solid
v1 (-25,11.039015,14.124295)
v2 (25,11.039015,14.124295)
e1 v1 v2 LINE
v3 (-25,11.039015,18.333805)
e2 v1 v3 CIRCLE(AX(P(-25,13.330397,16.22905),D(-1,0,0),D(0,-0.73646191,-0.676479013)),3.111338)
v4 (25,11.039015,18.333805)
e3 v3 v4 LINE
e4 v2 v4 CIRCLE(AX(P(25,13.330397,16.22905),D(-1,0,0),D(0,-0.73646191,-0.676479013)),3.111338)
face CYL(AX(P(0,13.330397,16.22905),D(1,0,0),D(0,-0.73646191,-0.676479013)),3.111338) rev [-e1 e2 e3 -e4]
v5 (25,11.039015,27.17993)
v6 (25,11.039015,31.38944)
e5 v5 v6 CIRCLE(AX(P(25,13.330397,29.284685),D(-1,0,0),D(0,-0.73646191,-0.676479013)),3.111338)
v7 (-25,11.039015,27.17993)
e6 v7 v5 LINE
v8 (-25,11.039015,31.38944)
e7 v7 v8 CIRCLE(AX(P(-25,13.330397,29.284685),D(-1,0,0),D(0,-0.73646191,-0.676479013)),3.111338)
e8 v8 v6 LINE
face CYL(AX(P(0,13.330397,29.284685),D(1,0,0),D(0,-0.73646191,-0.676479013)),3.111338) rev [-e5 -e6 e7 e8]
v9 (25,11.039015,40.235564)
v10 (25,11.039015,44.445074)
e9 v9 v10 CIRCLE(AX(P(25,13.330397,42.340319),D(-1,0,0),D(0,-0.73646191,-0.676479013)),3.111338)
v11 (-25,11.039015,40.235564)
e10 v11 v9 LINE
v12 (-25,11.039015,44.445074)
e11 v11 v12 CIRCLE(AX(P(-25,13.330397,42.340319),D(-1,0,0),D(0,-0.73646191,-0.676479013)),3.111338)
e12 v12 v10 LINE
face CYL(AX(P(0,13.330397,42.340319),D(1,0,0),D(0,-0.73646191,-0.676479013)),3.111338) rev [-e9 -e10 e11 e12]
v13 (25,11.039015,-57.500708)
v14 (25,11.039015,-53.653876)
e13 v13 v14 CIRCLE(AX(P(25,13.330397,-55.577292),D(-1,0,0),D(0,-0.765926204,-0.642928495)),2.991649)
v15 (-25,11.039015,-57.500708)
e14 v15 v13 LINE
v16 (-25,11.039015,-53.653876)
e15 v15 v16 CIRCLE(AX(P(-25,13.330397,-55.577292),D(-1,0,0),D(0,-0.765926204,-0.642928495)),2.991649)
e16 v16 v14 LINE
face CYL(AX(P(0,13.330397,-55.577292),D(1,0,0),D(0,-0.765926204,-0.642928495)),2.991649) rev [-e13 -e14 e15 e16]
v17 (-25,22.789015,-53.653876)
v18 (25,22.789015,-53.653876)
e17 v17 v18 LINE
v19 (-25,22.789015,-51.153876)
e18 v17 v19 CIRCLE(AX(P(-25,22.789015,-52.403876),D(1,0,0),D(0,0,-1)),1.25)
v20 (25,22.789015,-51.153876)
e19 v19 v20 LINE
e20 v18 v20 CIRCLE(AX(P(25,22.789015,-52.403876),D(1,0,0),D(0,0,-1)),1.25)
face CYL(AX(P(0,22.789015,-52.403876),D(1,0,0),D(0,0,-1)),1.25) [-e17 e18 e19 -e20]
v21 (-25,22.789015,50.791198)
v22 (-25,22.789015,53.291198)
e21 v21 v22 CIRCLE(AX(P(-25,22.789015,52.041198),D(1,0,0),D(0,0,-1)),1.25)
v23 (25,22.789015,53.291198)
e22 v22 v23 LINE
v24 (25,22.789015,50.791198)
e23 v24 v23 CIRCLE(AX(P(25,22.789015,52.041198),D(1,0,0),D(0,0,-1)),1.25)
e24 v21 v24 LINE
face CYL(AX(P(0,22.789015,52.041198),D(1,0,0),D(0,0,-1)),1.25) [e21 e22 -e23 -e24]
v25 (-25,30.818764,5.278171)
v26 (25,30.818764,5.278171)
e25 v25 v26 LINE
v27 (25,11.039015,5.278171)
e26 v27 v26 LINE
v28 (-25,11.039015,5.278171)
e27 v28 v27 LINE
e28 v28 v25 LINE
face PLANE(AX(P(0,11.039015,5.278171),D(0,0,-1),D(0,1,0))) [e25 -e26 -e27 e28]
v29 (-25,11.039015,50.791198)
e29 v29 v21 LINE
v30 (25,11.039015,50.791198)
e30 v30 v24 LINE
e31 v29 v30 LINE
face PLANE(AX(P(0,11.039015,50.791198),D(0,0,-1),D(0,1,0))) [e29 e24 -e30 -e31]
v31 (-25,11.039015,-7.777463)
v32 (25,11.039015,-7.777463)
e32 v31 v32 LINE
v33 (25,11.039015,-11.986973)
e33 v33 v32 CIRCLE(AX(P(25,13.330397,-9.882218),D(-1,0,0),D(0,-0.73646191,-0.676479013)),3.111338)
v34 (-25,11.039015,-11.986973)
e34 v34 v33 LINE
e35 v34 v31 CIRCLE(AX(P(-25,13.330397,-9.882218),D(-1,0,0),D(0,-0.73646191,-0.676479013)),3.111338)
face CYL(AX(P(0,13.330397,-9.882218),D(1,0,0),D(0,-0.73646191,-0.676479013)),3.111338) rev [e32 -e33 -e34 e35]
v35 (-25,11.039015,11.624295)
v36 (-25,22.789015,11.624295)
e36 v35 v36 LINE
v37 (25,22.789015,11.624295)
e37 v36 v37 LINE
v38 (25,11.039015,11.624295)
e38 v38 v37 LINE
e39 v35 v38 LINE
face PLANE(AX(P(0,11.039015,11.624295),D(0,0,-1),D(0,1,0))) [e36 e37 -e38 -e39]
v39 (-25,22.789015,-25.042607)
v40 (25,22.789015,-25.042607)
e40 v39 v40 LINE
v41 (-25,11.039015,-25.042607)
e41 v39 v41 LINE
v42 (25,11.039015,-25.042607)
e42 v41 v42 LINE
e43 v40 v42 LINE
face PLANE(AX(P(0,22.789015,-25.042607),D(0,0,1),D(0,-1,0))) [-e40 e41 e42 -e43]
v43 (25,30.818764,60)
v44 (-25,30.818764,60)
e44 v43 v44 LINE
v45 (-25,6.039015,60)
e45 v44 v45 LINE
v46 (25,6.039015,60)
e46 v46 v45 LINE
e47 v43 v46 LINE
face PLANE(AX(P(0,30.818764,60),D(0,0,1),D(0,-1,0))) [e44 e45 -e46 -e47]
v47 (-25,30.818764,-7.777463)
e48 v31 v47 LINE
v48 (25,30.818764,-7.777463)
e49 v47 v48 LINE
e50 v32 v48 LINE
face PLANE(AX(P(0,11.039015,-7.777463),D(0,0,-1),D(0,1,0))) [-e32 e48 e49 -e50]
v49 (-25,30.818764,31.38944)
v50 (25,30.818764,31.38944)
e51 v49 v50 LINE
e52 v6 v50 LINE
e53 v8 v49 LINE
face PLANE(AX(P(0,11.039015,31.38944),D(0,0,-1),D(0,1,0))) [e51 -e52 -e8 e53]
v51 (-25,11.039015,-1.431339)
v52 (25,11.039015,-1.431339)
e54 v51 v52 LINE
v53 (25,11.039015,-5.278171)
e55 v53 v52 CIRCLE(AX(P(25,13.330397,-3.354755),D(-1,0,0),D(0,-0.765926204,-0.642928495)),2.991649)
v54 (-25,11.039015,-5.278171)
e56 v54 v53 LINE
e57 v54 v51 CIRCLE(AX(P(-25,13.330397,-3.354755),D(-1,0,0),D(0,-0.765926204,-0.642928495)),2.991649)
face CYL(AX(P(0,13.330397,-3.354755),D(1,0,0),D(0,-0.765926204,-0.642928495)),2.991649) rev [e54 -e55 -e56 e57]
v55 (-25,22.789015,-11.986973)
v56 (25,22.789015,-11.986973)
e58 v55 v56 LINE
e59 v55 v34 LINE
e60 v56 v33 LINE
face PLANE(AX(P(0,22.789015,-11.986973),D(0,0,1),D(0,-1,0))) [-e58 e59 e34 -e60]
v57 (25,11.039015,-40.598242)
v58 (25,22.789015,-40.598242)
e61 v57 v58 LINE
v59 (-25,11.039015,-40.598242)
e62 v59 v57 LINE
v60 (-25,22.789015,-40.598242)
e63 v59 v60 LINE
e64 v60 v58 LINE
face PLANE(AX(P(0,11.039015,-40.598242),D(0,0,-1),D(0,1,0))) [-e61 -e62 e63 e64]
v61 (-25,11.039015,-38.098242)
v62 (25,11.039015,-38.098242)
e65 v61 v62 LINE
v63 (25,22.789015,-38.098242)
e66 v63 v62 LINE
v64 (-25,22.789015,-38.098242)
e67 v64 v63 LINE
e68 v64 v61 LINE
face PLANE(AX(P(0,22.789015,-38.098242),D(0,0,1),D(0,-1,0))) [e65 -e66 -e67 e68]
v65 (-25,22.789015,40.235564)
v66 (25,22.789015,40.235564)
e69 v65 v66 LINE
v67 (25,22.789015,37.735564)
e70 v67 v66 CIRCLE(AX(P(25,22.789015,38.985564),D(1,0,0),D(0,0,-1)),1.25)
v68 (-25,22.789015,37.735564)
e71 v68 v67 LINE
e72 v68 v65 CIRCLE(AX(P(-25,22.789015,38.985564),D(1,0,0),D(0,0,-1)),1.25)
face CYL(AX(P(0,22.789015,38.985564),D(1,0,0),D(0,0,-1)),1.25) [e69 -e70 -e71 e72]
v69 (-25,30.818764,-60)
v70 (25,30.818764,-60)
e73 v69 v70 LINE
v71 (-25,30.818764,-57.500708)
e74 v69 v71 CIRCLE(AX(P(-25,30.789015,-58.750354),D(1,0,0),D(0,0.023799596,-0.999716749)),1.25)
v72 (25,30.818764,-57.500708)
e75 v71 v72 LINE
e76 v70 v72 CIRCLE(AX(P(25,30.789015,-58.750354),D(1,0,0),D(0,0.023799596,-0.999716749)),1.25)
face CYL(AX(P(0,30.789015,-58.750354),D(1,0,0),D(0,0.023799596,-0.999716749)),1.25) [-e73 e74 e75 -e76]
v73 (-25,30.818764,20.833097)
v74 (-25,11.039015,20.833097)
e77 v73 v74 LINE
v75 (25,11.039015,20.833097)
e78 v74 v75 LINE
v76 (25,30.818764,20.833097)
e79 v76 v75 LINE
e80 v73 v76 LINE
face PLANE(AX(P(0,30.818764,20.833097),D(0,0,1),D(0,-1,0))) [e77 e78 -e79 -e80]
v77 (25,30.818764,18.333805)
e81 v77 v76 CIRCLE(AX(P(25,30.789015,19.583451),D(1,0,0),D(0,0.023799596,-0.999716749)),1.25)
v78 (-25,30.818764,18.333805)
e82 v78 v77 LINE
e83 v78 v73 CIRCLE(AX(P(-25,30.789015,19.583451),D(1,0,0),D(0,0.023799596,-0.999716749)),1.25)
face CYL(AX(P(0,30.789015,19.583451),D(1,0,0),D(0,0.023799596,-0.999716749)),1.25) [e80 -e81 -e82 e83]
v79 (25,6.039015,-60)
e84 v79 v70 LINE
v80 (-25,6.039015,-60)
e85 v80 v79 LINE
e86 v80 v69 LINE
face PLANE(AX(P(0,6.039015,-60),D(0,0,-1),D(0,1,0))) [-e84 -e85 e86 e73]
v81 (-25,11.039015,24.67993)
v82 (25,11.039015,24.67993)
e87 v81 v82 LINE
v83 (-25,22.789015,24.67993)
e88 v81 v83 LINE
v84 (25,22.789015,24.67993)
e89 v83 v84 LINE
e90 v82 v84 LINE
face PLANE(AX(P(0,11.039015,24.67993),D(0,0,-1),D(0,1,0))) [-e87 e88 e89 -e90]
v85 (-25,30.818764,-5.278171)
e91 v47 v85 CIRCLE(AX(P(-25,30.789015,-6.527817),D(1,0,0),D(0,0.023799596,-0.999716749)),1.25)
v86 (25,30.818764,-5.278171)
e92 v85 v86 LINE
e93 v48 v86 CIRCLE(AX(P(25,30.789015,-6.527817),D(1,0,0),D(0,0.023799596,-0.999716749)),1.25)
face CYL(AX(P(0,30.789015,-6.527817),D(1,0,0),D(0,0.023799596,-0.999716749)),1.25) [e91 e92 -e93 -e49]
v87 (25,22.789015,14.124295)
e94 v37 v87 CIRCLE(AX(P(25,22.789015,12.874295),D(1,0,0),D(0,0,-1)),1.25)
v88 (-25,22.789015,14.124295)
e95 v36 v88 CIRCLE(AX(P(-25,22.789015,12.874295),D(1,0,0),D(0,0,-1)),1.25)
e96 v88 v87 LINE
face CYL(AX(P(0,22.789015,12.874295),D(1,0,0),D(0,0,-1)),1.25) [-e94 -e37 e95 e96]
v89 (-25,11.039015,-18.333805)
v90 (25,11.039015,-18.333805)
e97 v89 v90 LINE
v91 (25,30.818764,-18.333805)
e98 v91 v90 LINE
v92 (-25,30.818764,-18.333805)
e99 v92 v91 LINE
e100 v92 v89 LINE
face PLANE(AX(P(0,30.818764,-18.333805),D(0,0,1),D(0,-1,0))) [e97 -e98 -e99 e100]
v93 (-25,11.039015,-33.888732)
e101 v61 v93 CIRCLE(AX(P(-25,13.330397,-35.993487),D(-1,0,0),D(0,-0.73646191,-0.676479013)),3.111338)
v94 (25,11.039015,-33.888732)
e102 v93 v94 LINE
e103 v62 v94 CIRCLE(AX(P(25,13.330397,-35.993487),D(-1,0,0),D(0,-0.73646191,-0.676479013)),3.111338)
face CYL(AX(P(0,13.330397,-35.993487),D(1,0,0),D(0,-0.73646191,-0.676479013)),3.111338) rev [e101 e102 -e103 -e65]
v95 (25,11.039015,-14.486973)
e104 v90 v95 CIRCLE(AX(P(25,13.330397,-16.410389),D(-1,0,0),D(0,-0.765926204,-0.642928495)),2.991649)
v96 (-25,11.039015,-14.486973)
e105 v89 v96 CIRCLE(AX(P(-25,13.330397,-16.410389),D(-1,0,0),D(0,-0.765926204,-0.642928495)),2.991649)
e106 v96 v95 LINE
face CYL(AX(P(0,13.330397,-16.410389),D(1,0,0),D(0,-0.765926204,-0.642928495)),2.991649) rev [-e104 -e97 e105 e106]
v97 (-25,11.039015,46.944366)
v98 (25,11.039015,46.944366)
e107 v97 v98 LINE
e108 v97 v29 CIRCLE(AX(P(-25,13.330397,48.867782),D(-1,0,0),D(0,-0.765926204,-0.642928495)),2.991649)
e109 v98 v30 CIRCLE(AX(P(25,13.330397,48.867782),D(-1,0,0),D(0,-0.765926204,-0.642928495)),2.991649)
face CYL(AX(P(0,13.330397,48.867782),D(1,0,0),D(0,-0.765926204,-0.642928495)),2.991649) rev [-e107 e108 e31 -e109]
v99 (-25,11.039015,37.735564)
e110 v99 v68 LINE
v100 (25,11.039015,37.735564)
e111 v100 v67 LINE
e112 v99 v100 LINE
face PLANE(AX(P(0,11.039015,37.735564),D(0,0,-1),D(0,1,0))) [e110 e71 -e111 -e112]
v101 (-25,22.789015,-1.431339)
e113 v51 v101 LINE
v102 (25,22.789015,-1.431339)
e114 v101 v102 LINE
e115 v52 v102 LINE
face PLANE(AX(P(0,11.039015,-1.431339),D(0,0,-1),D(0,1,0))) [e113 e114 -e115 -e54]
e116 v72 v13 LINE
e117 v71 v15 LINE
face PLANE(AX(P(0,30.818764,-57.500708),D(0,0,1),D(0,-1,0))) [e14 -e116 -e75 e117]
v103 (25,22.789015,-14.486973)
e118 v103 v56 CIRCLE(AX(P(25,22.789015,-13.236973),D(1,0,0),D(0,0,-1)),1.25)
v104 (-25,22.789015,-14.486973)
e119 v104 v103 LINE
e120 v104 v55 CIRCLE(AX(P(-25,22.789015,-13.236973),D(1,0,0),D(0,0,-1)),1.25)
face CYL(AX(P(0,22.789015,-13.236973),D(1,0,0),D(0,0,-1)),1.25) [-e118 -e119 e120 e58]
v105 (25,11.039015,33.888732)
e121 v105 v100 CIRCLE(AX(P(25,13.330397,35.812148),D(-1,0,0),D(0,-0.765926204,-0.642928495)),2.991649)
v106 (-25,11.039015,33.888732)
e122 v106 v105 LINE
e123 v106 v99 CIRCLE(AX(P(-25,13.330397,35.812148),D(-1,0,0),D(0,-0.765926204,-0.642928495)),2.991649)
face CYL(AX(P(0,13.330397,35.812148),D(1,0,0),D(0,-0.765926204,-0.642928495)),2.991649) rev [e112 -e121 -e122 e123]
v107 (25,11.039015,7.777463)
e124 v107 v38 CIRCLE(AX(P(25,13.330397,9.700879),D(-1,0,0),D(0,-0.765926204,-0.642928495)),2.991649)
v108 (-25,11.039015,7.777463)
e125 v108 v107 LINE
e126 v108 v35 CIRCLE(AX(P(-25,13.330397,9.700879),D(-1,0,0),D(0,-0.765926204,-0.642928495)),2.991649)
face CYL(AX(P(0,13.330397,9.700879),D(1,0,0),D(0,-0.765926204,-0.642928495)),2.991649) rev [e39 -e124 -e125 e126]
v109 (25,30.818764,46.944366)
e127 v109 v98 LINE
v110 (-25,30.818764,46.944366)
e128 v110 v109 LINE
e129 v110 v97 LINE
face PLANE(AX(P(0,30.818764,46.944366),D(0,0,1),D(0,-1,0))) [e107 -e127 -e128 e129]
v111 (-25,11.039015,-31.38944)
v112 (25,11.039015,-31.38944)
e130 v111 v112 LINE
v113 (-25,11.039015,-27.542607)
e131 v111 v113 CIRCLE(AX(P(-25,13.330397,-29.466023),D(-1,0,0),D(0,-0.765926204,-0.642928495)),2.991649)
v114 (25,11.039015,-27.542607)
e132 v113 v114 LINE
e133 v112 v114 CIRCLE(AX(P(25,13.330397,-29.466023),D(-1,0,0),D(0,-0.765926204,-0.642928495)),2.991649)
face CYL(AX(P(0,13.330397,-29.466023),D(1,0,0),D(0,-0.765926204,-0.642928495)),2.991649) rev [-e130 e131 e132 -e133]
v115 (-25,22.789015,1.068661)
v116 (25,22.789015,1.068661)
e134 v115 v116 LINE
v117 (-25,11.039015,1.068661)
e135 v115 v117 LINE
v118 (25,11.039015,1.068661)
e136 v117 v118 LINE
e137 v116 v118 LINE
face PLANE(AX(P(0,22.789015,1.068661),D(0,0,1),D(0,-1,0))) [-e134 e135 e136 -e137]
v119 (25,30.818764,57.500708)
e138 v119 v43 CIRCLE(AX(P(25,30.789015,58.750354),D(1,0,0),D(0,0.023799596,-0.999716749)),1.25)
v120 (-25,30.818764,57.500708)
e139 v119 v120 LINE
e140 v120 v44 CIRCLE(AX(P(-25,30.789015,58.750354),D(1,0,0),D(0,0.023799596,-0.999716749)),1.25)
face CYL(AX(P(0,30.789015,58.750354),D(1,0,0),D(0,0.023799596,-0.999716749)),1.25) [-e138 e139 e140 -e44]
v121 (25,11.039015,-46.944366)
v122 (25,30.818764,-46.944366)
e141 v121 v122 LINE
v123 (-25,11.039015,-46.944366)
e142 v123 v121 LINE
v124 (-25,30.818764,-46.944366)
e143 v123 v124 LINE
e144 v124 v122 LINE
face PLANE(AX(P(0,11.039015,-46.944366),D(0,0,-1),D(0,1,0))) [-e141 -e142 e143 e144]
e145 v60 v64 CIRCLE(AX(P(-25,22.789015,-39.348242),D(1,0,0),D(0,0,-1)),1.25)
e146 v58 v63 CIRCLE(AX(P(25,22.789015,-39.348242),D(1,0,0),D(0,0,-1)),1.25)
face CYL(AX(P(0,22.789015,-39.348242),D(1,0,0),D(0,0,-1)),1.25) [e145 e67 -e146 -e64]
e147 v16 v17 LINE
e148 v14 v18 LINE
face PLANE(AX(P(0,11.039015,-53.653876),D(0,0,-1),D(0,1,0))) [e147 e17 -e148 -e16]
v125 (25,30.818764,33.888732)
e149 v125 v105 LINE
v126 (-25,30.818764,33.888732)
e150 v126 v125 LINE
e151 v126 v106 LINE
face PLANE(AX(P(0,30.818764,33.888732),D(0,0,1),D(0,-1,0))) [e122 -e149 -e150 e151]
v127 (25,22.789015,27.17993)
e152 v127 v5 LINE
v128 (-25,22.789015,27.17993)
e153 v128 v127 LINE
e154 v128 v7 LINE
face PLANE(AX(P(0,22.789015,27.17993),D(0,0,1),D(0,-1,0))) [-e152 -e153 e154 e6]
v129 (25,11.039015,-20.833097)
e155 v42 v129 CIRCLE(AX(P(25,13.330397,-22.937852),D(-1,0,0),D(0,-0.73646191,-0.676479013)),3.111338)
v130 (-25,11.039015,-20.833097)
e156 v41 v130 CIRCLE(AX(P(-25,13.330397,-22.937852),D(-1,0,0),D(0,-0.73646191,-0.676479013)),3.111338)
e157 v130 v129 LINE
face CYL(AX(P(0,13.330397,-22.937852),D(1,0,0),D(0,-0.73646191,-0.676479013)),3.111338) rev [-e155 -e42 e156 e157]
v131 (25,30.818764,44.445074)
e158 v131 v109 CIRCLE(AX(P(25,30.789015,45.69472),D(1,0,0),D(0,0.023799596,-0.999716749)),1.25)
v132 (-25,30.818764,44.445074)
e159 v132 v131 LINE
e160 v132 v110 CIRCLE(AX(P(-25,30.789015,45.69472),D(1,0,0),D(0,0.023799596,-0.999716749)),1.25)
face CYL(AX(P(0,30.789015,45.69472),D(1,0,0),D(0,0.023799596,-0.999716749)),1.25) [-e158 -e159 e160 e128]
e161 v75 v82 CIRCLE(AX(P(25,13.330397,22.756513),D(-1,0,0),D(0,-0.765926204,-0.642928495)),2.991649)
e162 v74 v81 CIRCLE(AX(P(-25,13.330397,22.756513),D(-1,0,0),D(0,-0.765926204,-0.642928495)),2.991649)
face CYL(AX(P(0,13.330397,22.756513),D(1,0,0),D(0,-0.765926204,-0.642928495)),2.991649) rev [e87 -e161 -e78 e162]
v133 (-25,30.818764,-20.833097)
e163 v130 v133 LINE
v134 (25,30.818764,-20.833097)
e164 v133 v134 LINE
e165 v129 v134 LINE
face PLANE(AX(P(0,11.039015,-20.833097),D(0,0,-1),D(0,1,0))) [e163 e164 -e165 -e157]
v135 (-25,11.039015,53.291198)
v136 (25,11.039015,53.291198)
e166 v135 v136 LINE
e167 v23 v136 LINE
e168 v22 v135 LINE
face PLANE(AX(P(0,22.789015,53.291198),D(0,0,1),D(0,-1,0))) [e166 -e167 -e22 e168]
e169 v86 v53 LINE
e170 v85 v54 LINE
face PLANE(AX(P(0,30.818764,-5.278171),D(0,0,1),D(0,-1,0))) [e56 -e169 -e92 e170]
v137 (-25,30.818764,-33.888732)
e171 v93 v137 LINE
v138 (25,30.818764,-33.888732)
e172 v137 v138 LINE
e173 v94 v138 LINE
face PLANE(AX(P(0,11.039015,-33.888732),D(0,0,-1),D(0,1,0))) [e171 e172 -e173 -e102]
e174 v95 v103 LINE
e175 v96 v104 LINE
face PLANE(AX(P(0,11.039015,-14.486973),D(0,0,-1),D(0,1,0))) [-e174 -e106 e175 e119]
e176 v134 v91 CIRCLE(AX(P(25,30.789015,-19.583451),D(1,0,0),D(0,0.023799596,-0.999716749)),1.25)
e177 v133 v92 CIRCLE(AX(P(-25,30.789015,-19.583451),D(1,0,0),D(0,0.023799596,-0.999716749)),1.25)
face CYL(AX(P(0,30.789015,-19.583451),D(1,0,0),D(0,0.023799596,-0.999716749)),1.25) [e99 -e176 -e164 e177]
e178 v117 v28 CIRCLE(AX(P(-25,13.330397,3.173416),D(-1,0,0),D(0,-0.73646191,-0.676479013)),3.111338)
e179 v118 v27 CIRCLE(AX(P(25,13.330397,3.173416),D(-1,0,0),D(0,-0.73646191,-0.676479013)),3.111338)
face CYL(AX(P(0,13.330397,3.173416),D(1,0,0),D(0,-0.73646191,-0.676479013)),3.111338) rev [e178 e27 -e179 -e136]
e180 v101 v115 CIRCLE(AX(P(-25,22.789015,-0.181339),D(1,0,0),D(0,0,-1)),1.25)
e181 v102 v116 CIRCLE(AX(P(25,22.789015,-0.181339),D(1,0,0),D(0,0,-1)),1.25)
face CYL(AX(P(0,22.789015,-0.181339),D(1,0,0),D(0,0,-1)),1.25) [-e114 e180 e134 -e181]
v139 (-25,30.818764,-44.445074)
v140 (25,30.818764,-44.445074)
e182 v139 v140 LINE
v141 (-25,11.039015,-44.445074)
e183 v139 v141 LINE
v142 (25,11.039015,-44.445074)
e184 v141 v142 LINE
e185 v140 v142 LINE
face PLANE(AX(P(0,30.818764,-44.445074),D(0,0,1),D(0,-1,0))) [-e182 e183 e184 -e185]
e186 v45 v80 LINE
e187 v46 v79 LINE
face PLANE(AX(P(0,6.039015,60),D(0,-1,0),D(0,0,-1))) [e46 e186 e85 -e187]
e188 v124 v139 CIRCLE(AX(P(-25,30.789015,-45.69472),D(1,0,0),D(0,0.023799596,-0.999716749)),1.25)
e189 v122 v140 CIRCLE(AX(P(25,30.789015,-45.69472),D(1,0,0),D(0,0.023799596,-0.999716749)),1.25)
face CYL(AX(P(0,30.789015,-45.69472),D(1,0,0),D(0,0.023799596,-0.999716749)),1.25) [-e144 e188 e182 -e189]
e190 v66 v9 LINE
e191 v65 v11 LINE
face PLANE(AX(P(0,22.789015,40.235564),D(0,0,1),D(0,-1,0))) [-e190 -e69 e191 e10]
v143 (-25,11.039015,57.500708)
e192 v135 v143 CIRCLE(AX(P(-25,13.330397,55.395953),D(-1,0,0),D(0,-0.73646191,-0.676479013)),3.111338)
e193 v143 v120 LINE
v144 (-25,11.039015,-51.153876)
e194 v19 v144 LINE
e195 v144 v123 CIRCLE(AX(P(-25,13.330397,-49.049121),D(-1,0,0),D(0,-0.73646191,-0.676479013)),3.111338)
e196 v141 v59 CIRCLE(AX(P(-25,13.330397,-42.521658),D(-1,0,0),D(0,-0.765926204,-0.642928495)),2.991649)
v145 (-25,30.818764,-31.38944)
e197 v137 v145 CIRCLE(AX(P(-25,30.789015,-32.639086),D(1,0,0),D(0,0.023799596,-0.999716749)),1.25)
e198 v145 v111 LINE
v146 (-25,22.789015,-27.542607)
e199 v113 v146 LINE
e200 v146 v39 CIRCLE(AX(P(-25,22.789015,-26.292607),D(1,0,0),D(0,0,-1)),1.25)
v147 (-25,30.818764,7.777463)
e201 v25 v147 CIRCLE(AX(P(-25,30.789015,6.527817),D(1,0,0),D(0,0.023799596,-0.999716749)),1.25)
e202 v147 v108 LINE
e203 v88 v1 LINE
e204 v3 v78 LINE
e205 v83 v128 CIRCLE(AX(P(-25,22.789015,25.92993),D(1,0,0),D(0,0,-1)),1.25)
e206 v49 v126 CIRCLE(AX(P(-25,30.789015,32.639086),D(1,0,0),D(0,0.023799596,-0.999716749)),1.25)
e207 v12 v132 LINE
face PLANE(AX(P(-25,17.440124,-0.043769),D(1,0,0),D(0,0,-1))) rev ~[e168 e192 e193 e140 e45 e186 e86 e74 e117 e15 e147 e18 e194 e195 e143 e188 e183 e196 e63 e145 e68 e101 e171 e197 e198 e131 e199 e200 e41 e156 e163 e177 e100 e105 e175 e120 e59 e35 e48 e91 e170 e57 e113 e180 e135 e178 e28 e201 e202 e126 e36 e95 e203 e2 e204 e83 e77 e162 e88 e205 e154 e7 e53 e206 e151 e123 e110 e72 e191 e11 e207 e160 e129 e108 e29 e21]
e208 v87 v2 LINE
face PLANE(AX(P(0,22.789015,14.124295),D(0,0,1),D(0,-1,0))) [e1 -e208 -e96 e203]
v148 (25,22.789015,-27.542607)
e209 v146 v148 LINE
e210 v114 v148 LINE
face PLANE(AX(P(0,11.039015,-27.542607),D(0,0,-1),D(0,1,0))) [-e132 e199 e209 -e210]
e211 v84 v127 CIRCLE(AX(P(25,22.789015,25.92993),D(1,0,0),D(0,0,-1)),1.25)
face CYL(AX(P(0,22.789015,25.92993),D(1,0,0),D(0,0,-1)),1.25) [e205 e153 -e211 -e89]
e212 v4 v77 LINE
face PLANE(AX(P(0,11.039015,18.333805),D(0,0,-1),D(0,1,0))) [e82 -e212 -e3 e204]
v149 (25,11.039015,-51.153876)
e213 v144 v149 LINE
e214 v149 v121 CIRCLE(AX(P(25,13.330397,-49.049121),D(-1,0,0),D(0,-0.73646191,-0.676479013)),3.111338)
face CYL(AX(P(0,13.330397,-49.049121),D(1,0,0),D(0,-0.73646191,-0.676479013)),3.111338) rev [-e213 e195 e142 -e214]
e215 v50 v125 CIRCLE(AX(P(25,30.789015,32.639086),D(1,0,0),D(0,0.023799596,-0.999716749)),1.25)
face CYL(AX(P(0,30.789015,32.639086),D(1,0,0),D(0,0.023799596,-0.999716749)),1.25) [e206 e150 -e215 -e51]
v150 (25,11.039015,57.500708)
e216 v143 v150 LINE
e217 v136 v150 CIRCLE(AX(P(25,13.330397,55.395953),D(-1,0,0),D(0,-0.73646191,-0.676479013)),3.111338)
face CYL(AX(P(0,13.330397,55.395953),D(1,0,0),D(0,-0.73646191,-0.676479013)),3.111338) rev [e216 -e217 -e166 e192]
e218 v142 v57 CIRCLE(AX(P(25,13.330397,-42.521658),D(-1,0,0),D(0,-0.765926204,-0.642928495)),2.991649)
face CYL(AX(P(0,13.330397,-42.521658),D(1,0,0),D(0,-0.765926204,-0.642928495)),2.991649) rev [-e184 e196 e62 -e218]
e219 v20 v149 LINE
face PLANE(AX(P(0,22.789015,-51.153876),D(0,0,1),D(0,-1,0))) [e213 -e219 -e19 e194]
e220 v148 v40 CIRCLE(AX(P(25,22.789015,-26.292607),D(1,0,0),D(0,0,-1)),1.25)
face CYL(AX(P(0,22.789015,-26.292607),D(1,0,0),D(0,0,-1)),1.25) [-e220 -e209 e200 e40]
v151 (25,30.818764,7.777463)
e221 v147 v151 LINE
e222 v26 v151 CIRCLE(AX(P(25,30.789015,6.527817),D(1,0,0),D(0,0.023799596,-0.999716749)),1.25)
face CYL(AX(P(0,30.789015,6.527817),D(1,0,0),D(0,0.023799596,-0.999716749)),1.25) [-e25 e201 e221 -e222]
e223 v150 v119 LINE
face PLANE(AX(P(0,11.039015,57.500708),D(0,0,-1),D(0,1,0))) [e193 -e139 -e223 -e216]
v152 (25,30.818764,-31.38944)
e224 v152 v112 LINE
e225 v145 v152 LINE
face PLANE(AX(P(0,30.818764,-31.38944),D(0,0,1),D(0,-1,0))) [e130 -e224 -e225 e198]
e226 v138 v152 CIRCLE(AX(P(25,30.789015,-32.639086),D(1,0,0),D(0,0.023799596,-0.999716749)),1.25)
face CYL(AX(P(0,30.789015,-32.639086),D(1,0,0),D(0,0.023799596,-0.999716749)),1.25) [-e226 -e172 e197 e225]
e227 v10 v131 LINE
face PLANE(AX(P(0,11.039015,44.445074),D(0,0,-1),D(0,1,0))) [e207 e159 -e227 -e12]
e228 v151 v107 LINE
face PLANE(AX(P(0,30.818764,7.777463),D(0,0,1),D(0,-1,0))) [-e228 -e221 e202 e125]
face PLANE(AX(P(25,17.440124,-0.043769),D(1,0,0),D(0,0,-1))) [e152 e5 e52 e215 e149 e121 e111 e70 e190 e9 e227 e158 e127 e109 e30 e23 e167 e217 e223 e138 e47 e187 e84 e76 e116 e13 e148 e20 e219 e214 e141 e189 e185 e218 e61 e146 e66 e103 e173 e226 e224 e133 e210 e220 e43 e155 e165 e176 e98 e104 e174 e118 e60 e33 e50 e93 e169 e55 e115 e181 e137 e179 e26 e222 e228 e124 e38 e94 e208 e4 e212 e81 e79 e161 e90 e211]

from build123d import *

# Parameters (mm, degrees)
BOSS_EXTRUDE1_DEPTH = 25


with BuildPart() as part:
    # Sketch1 → Boss-Extrude1 (new, symmetric)
    with BuildSketch(Plane(origin=(0, 0, 0), x_dir=(0, 0, -1), z_dir=(1, 0, 0))):
        with BuildLine():
            Line((-60, 6.039014916), (60, 6.039014916))
            Line((60, 6.039014916), (60, 30.818764411))
            ThreePointArc((60, 30.818764411), (58.750354063, 32.039014916), (57.500708126, 30.818764411))
            Line((57.500708126, 30.818764411), (57.500708126, 11.039014916))
            ThreePointArc((57.500708126, 11.039014916), (55.57729196, 10.33874836), (53.653875793, 11.039014916))
            Line((53.653875793, 11.039014916), (53.653875793, 22.789014916))
            ThreePointArc((53.653875793, 22.789014916), (52.403875793, 24.039014916), (51.153875793, 22.789014916))
            Line((51.153875793, 22.789014916), (51.153875793, 11.039014916))
            ThreePointArc((51.153875793, 11.039014916), (49.049120778, 10.219058782), (46.944365764, 11.039014916))
            Line((46.944365764, 11.039014916), (46.944365764, 30.818764411))
            ThreePointArc((46.944365764, 30.818764411), (45.694719827, 32.039014916), (44.44507389, 30.818764411))
            Line((44.44507389, 30.818764411), (44.44507389, 11.039014916))
            ThreePointArc((44.44507389, 11.039014916), (42.521657723, 10.33874836), (40.598241557, 11.039014916))
            Line((40.598241557, 11.039014916), (40.598241557, 22.789014916))
            ThreePointArc((40.598241557, 22.789014916), (39.348241557, 24.039014916), (38.098241557, 22.789014916))
            Line((38.098241557, 22.789014916), (38.098241557, 11.039014916))
            ThreePointArc((38.098241557, 11.039014916), (35.993486542, 10.219058782), (33.888731528, 11.039014916))
            Line((33.888731528, 11.039014916), (33.888731528, 30.818764411))
            ThreePointArc((33.888731528, 30.818764411), (32.639085591, 32.039014916), (31.389439654, 30.818764411))
            Line((31.389439654, 30.818764411), (31.389439654, 11.039014916))
            ThreePointArc((31.389439654, 11.039014916), (29.466023487, 10.33874836), (27.54260732, 11.039014916))
            Line((27.54260732, 11.039014916), (27.54260732, 22.789014916))
            ThreePointArc((27.54260732, 22.789014916), (26.29260732, 24.039014916), (25.04260732, 22.789014916))
            Line((25.04260732, 22.789014916), (25.04260732, 11.039014916))
            ThreePointArc((25.04260732, 11.039014916), (22.937852306, 10.219058782), (20.833097291, 11.039014916))
            Line((20.833097291, 11.039014916), (20.833097291, 30.818764411))
            ThreePointArc((20.833097291, 30.818764411), (19.583451354, 32.039014916), (18.333805417, 30.818764411))
            Line((18.333805417, 30.818764411), (18.333805417, 11.039014916))
            ThreePointArc((18.333805417, 11.039014916), (16.410389251, 10.33874836), (14.486973084, 11.039014916))
            Line((14.486973084, 11.039014916), (14.486973084, 22.789014916))
            ThreePointArc((14.486973084, 22.789014916), (13.236973084, 24.039014916), (11.986973084, 22.789014916))
            Line((11.986973084, 22.789014916), (11.986973084, 11.039014916))
            ThreePointArc((11.986973084, 11.039014916), (9.88221807, 10.219058782), (7.777463055, 11.039014916))
            Line((7.777463055, 11.039014916), (7.777463055, 30.818764411))
            ThreePointArc((7.777463055, 30.818764411), (6.527817118, 32.039014916), (5.278171181, 30.818764411))
            Line((5.278171181, 30.818764411), (5.278171181, 11.039014916))
            ThreePointArc((5.278171181, 11.039014916), (3.354755015, 10.33874836), (1.431338848, 11.039014916))
            Line((1.431338848, 11.039014916), (1.431338848, 22.789014916))
            ThreePointArc((1.431338848, 22.789014916), (0.181338848, 24.039014916), (-1.068661152, 22.789014916))
            Line((-1.068661152, 22.789014916), (-1.068661152, 11.039014916))
            ThreePointArc((-1.068661152, 11.039014916), (-3.173416167, 10.219058782), (-5.278171181, 11.039014916))
            Line((-5.278171181, 11.039014916), (-5.278171181, 30.818764411))
            ThreePointArc((-5.278171181, 30.818764411), (-6.527817118, 32.039014916), (-7.777463055, 30.818764411))
            Line((-7.777463055, 30.818764411), (-7.777463055, 11.039014916))
            ThreePointArc((-7.777463055, 11.039014916), (-9.700879222, 10.33874836), (-11.624295388, 11.039014916))
            Line((-11.624295388, 11.039014916), (-11.624295388, 22.789014916))
            ThreePointArc((-11.624295388, 22.789014916), (-12.874295388, 24.039014916), (-14.124295388, 22.789014916))
            Line((-14.124295388, 22.789014916), (-14.124295388, 11.039014916))
            ThreePointArc((-14.124295388, 11.039014916), (-16.229050403, 10.219058782), (-18.333805417, 11.039014916))
            Line((-18.333805417, 11.039014916), (-18.333805417, 30.818764411))
            ThreePointArc((-18.333805417, 30.818764411), (-19.583451354, 32.039014916), (-20.833097291, 30.818764411))
            Line((-20.833097291, 30.818764411), (-20.833097291, 11.039014916))
            ThreePointArc((-20.833097291, 11.039014916), (-22.756513458, 10.33874836), (-24.679929625, 11.039014916))
            Line((-24.679929625, 11.039014916), (-24.679929625, 22.789014916))
            ThreePointArc((-24.679929625, 22.789014916), (-25.929929625, 24.039014916), (-27.179929625, 22.789014916))
            Line((-27.179929625, 22.789014916), (-27.179929625, 11.039014916))
            ThreePointArc((-27.179929625, 11.039014916), (-29.284684639, 10.219058782), (-31.389439654, 11.039014916))
            Line((-31.389439654, 11.039014916), (-31.389439654, 30.818764411))
            ThreePointArc((-31.389439654, 30.818764411), (-32.639085591, 32.039014916), (-33.888731528, 30.818764411))
            Line((-33.888731528, 30.818764411), (-33.888731528, 11.039014916))
            ThreePointArc((-33.888731528, 11.039014916), (-35.812147694, 10.33874836), (-37.735563861, 11.039014916))
            Line((-37.735563861, 11.039014916), (-37.735563861, 22.789014916))
            ThreePointArc((-37.735563861, 22.789014916), (-38.985563861, 24.039014916), (-40.235563861, 22.789014916))
            Line((-40.235563861, 22.789014916), (-40.235563861, 11.039014916))
            ThreePointArc((-40.235563861, 11.039014916), (-42.340318875, 10.219058782), (-44.44507389, 11.039014916))
            Line((-44.44507389, 11.039014916), (-44.44507389, 30.818764411))
            ThreePointArc((-44.44507389, 30.818764411), (-45.694719827, 32.039014916), (-46.944365764, 30.818764411))
            Line((-46.944365764, 30.818764411), (-46.944365764, 11.039014916))
            ThreePointArc((-46.944365764, 11.039014916), (-48.86778193, 10.33874836), (-50.791198097, 11.039014916))
            Line((-50.791198097, 11.039014916), (-50.791198097, 22.789014916))
            ThreePointArc((-50.791198097, 22.789014916), (-52.041198097, 24.039014916), (-53.291198097, 22.789014916))
            Line((-53.291198097, 22.789014916), (-53.291198097, 11.039014916))
            ThreePointArc((-53.291198097, 11.039014916), (-55.395953112, 10.219058782), (-57.500708126, 11.039014916))
            Line((-57.500708126, 11.039014916), (-57.500708126, 30.818764411))
            ThreePointArc((-57.500708126, 30.818764411), (-58.750354063, 32.039014916), (-60, 30.818764411))
            Line((-60, 30.818764411), (-60, 6.039014916))
        make_face()
    extrude(amount=BOSS_EXTRUDE1_DEPTH, both=True)


solid = part.part
